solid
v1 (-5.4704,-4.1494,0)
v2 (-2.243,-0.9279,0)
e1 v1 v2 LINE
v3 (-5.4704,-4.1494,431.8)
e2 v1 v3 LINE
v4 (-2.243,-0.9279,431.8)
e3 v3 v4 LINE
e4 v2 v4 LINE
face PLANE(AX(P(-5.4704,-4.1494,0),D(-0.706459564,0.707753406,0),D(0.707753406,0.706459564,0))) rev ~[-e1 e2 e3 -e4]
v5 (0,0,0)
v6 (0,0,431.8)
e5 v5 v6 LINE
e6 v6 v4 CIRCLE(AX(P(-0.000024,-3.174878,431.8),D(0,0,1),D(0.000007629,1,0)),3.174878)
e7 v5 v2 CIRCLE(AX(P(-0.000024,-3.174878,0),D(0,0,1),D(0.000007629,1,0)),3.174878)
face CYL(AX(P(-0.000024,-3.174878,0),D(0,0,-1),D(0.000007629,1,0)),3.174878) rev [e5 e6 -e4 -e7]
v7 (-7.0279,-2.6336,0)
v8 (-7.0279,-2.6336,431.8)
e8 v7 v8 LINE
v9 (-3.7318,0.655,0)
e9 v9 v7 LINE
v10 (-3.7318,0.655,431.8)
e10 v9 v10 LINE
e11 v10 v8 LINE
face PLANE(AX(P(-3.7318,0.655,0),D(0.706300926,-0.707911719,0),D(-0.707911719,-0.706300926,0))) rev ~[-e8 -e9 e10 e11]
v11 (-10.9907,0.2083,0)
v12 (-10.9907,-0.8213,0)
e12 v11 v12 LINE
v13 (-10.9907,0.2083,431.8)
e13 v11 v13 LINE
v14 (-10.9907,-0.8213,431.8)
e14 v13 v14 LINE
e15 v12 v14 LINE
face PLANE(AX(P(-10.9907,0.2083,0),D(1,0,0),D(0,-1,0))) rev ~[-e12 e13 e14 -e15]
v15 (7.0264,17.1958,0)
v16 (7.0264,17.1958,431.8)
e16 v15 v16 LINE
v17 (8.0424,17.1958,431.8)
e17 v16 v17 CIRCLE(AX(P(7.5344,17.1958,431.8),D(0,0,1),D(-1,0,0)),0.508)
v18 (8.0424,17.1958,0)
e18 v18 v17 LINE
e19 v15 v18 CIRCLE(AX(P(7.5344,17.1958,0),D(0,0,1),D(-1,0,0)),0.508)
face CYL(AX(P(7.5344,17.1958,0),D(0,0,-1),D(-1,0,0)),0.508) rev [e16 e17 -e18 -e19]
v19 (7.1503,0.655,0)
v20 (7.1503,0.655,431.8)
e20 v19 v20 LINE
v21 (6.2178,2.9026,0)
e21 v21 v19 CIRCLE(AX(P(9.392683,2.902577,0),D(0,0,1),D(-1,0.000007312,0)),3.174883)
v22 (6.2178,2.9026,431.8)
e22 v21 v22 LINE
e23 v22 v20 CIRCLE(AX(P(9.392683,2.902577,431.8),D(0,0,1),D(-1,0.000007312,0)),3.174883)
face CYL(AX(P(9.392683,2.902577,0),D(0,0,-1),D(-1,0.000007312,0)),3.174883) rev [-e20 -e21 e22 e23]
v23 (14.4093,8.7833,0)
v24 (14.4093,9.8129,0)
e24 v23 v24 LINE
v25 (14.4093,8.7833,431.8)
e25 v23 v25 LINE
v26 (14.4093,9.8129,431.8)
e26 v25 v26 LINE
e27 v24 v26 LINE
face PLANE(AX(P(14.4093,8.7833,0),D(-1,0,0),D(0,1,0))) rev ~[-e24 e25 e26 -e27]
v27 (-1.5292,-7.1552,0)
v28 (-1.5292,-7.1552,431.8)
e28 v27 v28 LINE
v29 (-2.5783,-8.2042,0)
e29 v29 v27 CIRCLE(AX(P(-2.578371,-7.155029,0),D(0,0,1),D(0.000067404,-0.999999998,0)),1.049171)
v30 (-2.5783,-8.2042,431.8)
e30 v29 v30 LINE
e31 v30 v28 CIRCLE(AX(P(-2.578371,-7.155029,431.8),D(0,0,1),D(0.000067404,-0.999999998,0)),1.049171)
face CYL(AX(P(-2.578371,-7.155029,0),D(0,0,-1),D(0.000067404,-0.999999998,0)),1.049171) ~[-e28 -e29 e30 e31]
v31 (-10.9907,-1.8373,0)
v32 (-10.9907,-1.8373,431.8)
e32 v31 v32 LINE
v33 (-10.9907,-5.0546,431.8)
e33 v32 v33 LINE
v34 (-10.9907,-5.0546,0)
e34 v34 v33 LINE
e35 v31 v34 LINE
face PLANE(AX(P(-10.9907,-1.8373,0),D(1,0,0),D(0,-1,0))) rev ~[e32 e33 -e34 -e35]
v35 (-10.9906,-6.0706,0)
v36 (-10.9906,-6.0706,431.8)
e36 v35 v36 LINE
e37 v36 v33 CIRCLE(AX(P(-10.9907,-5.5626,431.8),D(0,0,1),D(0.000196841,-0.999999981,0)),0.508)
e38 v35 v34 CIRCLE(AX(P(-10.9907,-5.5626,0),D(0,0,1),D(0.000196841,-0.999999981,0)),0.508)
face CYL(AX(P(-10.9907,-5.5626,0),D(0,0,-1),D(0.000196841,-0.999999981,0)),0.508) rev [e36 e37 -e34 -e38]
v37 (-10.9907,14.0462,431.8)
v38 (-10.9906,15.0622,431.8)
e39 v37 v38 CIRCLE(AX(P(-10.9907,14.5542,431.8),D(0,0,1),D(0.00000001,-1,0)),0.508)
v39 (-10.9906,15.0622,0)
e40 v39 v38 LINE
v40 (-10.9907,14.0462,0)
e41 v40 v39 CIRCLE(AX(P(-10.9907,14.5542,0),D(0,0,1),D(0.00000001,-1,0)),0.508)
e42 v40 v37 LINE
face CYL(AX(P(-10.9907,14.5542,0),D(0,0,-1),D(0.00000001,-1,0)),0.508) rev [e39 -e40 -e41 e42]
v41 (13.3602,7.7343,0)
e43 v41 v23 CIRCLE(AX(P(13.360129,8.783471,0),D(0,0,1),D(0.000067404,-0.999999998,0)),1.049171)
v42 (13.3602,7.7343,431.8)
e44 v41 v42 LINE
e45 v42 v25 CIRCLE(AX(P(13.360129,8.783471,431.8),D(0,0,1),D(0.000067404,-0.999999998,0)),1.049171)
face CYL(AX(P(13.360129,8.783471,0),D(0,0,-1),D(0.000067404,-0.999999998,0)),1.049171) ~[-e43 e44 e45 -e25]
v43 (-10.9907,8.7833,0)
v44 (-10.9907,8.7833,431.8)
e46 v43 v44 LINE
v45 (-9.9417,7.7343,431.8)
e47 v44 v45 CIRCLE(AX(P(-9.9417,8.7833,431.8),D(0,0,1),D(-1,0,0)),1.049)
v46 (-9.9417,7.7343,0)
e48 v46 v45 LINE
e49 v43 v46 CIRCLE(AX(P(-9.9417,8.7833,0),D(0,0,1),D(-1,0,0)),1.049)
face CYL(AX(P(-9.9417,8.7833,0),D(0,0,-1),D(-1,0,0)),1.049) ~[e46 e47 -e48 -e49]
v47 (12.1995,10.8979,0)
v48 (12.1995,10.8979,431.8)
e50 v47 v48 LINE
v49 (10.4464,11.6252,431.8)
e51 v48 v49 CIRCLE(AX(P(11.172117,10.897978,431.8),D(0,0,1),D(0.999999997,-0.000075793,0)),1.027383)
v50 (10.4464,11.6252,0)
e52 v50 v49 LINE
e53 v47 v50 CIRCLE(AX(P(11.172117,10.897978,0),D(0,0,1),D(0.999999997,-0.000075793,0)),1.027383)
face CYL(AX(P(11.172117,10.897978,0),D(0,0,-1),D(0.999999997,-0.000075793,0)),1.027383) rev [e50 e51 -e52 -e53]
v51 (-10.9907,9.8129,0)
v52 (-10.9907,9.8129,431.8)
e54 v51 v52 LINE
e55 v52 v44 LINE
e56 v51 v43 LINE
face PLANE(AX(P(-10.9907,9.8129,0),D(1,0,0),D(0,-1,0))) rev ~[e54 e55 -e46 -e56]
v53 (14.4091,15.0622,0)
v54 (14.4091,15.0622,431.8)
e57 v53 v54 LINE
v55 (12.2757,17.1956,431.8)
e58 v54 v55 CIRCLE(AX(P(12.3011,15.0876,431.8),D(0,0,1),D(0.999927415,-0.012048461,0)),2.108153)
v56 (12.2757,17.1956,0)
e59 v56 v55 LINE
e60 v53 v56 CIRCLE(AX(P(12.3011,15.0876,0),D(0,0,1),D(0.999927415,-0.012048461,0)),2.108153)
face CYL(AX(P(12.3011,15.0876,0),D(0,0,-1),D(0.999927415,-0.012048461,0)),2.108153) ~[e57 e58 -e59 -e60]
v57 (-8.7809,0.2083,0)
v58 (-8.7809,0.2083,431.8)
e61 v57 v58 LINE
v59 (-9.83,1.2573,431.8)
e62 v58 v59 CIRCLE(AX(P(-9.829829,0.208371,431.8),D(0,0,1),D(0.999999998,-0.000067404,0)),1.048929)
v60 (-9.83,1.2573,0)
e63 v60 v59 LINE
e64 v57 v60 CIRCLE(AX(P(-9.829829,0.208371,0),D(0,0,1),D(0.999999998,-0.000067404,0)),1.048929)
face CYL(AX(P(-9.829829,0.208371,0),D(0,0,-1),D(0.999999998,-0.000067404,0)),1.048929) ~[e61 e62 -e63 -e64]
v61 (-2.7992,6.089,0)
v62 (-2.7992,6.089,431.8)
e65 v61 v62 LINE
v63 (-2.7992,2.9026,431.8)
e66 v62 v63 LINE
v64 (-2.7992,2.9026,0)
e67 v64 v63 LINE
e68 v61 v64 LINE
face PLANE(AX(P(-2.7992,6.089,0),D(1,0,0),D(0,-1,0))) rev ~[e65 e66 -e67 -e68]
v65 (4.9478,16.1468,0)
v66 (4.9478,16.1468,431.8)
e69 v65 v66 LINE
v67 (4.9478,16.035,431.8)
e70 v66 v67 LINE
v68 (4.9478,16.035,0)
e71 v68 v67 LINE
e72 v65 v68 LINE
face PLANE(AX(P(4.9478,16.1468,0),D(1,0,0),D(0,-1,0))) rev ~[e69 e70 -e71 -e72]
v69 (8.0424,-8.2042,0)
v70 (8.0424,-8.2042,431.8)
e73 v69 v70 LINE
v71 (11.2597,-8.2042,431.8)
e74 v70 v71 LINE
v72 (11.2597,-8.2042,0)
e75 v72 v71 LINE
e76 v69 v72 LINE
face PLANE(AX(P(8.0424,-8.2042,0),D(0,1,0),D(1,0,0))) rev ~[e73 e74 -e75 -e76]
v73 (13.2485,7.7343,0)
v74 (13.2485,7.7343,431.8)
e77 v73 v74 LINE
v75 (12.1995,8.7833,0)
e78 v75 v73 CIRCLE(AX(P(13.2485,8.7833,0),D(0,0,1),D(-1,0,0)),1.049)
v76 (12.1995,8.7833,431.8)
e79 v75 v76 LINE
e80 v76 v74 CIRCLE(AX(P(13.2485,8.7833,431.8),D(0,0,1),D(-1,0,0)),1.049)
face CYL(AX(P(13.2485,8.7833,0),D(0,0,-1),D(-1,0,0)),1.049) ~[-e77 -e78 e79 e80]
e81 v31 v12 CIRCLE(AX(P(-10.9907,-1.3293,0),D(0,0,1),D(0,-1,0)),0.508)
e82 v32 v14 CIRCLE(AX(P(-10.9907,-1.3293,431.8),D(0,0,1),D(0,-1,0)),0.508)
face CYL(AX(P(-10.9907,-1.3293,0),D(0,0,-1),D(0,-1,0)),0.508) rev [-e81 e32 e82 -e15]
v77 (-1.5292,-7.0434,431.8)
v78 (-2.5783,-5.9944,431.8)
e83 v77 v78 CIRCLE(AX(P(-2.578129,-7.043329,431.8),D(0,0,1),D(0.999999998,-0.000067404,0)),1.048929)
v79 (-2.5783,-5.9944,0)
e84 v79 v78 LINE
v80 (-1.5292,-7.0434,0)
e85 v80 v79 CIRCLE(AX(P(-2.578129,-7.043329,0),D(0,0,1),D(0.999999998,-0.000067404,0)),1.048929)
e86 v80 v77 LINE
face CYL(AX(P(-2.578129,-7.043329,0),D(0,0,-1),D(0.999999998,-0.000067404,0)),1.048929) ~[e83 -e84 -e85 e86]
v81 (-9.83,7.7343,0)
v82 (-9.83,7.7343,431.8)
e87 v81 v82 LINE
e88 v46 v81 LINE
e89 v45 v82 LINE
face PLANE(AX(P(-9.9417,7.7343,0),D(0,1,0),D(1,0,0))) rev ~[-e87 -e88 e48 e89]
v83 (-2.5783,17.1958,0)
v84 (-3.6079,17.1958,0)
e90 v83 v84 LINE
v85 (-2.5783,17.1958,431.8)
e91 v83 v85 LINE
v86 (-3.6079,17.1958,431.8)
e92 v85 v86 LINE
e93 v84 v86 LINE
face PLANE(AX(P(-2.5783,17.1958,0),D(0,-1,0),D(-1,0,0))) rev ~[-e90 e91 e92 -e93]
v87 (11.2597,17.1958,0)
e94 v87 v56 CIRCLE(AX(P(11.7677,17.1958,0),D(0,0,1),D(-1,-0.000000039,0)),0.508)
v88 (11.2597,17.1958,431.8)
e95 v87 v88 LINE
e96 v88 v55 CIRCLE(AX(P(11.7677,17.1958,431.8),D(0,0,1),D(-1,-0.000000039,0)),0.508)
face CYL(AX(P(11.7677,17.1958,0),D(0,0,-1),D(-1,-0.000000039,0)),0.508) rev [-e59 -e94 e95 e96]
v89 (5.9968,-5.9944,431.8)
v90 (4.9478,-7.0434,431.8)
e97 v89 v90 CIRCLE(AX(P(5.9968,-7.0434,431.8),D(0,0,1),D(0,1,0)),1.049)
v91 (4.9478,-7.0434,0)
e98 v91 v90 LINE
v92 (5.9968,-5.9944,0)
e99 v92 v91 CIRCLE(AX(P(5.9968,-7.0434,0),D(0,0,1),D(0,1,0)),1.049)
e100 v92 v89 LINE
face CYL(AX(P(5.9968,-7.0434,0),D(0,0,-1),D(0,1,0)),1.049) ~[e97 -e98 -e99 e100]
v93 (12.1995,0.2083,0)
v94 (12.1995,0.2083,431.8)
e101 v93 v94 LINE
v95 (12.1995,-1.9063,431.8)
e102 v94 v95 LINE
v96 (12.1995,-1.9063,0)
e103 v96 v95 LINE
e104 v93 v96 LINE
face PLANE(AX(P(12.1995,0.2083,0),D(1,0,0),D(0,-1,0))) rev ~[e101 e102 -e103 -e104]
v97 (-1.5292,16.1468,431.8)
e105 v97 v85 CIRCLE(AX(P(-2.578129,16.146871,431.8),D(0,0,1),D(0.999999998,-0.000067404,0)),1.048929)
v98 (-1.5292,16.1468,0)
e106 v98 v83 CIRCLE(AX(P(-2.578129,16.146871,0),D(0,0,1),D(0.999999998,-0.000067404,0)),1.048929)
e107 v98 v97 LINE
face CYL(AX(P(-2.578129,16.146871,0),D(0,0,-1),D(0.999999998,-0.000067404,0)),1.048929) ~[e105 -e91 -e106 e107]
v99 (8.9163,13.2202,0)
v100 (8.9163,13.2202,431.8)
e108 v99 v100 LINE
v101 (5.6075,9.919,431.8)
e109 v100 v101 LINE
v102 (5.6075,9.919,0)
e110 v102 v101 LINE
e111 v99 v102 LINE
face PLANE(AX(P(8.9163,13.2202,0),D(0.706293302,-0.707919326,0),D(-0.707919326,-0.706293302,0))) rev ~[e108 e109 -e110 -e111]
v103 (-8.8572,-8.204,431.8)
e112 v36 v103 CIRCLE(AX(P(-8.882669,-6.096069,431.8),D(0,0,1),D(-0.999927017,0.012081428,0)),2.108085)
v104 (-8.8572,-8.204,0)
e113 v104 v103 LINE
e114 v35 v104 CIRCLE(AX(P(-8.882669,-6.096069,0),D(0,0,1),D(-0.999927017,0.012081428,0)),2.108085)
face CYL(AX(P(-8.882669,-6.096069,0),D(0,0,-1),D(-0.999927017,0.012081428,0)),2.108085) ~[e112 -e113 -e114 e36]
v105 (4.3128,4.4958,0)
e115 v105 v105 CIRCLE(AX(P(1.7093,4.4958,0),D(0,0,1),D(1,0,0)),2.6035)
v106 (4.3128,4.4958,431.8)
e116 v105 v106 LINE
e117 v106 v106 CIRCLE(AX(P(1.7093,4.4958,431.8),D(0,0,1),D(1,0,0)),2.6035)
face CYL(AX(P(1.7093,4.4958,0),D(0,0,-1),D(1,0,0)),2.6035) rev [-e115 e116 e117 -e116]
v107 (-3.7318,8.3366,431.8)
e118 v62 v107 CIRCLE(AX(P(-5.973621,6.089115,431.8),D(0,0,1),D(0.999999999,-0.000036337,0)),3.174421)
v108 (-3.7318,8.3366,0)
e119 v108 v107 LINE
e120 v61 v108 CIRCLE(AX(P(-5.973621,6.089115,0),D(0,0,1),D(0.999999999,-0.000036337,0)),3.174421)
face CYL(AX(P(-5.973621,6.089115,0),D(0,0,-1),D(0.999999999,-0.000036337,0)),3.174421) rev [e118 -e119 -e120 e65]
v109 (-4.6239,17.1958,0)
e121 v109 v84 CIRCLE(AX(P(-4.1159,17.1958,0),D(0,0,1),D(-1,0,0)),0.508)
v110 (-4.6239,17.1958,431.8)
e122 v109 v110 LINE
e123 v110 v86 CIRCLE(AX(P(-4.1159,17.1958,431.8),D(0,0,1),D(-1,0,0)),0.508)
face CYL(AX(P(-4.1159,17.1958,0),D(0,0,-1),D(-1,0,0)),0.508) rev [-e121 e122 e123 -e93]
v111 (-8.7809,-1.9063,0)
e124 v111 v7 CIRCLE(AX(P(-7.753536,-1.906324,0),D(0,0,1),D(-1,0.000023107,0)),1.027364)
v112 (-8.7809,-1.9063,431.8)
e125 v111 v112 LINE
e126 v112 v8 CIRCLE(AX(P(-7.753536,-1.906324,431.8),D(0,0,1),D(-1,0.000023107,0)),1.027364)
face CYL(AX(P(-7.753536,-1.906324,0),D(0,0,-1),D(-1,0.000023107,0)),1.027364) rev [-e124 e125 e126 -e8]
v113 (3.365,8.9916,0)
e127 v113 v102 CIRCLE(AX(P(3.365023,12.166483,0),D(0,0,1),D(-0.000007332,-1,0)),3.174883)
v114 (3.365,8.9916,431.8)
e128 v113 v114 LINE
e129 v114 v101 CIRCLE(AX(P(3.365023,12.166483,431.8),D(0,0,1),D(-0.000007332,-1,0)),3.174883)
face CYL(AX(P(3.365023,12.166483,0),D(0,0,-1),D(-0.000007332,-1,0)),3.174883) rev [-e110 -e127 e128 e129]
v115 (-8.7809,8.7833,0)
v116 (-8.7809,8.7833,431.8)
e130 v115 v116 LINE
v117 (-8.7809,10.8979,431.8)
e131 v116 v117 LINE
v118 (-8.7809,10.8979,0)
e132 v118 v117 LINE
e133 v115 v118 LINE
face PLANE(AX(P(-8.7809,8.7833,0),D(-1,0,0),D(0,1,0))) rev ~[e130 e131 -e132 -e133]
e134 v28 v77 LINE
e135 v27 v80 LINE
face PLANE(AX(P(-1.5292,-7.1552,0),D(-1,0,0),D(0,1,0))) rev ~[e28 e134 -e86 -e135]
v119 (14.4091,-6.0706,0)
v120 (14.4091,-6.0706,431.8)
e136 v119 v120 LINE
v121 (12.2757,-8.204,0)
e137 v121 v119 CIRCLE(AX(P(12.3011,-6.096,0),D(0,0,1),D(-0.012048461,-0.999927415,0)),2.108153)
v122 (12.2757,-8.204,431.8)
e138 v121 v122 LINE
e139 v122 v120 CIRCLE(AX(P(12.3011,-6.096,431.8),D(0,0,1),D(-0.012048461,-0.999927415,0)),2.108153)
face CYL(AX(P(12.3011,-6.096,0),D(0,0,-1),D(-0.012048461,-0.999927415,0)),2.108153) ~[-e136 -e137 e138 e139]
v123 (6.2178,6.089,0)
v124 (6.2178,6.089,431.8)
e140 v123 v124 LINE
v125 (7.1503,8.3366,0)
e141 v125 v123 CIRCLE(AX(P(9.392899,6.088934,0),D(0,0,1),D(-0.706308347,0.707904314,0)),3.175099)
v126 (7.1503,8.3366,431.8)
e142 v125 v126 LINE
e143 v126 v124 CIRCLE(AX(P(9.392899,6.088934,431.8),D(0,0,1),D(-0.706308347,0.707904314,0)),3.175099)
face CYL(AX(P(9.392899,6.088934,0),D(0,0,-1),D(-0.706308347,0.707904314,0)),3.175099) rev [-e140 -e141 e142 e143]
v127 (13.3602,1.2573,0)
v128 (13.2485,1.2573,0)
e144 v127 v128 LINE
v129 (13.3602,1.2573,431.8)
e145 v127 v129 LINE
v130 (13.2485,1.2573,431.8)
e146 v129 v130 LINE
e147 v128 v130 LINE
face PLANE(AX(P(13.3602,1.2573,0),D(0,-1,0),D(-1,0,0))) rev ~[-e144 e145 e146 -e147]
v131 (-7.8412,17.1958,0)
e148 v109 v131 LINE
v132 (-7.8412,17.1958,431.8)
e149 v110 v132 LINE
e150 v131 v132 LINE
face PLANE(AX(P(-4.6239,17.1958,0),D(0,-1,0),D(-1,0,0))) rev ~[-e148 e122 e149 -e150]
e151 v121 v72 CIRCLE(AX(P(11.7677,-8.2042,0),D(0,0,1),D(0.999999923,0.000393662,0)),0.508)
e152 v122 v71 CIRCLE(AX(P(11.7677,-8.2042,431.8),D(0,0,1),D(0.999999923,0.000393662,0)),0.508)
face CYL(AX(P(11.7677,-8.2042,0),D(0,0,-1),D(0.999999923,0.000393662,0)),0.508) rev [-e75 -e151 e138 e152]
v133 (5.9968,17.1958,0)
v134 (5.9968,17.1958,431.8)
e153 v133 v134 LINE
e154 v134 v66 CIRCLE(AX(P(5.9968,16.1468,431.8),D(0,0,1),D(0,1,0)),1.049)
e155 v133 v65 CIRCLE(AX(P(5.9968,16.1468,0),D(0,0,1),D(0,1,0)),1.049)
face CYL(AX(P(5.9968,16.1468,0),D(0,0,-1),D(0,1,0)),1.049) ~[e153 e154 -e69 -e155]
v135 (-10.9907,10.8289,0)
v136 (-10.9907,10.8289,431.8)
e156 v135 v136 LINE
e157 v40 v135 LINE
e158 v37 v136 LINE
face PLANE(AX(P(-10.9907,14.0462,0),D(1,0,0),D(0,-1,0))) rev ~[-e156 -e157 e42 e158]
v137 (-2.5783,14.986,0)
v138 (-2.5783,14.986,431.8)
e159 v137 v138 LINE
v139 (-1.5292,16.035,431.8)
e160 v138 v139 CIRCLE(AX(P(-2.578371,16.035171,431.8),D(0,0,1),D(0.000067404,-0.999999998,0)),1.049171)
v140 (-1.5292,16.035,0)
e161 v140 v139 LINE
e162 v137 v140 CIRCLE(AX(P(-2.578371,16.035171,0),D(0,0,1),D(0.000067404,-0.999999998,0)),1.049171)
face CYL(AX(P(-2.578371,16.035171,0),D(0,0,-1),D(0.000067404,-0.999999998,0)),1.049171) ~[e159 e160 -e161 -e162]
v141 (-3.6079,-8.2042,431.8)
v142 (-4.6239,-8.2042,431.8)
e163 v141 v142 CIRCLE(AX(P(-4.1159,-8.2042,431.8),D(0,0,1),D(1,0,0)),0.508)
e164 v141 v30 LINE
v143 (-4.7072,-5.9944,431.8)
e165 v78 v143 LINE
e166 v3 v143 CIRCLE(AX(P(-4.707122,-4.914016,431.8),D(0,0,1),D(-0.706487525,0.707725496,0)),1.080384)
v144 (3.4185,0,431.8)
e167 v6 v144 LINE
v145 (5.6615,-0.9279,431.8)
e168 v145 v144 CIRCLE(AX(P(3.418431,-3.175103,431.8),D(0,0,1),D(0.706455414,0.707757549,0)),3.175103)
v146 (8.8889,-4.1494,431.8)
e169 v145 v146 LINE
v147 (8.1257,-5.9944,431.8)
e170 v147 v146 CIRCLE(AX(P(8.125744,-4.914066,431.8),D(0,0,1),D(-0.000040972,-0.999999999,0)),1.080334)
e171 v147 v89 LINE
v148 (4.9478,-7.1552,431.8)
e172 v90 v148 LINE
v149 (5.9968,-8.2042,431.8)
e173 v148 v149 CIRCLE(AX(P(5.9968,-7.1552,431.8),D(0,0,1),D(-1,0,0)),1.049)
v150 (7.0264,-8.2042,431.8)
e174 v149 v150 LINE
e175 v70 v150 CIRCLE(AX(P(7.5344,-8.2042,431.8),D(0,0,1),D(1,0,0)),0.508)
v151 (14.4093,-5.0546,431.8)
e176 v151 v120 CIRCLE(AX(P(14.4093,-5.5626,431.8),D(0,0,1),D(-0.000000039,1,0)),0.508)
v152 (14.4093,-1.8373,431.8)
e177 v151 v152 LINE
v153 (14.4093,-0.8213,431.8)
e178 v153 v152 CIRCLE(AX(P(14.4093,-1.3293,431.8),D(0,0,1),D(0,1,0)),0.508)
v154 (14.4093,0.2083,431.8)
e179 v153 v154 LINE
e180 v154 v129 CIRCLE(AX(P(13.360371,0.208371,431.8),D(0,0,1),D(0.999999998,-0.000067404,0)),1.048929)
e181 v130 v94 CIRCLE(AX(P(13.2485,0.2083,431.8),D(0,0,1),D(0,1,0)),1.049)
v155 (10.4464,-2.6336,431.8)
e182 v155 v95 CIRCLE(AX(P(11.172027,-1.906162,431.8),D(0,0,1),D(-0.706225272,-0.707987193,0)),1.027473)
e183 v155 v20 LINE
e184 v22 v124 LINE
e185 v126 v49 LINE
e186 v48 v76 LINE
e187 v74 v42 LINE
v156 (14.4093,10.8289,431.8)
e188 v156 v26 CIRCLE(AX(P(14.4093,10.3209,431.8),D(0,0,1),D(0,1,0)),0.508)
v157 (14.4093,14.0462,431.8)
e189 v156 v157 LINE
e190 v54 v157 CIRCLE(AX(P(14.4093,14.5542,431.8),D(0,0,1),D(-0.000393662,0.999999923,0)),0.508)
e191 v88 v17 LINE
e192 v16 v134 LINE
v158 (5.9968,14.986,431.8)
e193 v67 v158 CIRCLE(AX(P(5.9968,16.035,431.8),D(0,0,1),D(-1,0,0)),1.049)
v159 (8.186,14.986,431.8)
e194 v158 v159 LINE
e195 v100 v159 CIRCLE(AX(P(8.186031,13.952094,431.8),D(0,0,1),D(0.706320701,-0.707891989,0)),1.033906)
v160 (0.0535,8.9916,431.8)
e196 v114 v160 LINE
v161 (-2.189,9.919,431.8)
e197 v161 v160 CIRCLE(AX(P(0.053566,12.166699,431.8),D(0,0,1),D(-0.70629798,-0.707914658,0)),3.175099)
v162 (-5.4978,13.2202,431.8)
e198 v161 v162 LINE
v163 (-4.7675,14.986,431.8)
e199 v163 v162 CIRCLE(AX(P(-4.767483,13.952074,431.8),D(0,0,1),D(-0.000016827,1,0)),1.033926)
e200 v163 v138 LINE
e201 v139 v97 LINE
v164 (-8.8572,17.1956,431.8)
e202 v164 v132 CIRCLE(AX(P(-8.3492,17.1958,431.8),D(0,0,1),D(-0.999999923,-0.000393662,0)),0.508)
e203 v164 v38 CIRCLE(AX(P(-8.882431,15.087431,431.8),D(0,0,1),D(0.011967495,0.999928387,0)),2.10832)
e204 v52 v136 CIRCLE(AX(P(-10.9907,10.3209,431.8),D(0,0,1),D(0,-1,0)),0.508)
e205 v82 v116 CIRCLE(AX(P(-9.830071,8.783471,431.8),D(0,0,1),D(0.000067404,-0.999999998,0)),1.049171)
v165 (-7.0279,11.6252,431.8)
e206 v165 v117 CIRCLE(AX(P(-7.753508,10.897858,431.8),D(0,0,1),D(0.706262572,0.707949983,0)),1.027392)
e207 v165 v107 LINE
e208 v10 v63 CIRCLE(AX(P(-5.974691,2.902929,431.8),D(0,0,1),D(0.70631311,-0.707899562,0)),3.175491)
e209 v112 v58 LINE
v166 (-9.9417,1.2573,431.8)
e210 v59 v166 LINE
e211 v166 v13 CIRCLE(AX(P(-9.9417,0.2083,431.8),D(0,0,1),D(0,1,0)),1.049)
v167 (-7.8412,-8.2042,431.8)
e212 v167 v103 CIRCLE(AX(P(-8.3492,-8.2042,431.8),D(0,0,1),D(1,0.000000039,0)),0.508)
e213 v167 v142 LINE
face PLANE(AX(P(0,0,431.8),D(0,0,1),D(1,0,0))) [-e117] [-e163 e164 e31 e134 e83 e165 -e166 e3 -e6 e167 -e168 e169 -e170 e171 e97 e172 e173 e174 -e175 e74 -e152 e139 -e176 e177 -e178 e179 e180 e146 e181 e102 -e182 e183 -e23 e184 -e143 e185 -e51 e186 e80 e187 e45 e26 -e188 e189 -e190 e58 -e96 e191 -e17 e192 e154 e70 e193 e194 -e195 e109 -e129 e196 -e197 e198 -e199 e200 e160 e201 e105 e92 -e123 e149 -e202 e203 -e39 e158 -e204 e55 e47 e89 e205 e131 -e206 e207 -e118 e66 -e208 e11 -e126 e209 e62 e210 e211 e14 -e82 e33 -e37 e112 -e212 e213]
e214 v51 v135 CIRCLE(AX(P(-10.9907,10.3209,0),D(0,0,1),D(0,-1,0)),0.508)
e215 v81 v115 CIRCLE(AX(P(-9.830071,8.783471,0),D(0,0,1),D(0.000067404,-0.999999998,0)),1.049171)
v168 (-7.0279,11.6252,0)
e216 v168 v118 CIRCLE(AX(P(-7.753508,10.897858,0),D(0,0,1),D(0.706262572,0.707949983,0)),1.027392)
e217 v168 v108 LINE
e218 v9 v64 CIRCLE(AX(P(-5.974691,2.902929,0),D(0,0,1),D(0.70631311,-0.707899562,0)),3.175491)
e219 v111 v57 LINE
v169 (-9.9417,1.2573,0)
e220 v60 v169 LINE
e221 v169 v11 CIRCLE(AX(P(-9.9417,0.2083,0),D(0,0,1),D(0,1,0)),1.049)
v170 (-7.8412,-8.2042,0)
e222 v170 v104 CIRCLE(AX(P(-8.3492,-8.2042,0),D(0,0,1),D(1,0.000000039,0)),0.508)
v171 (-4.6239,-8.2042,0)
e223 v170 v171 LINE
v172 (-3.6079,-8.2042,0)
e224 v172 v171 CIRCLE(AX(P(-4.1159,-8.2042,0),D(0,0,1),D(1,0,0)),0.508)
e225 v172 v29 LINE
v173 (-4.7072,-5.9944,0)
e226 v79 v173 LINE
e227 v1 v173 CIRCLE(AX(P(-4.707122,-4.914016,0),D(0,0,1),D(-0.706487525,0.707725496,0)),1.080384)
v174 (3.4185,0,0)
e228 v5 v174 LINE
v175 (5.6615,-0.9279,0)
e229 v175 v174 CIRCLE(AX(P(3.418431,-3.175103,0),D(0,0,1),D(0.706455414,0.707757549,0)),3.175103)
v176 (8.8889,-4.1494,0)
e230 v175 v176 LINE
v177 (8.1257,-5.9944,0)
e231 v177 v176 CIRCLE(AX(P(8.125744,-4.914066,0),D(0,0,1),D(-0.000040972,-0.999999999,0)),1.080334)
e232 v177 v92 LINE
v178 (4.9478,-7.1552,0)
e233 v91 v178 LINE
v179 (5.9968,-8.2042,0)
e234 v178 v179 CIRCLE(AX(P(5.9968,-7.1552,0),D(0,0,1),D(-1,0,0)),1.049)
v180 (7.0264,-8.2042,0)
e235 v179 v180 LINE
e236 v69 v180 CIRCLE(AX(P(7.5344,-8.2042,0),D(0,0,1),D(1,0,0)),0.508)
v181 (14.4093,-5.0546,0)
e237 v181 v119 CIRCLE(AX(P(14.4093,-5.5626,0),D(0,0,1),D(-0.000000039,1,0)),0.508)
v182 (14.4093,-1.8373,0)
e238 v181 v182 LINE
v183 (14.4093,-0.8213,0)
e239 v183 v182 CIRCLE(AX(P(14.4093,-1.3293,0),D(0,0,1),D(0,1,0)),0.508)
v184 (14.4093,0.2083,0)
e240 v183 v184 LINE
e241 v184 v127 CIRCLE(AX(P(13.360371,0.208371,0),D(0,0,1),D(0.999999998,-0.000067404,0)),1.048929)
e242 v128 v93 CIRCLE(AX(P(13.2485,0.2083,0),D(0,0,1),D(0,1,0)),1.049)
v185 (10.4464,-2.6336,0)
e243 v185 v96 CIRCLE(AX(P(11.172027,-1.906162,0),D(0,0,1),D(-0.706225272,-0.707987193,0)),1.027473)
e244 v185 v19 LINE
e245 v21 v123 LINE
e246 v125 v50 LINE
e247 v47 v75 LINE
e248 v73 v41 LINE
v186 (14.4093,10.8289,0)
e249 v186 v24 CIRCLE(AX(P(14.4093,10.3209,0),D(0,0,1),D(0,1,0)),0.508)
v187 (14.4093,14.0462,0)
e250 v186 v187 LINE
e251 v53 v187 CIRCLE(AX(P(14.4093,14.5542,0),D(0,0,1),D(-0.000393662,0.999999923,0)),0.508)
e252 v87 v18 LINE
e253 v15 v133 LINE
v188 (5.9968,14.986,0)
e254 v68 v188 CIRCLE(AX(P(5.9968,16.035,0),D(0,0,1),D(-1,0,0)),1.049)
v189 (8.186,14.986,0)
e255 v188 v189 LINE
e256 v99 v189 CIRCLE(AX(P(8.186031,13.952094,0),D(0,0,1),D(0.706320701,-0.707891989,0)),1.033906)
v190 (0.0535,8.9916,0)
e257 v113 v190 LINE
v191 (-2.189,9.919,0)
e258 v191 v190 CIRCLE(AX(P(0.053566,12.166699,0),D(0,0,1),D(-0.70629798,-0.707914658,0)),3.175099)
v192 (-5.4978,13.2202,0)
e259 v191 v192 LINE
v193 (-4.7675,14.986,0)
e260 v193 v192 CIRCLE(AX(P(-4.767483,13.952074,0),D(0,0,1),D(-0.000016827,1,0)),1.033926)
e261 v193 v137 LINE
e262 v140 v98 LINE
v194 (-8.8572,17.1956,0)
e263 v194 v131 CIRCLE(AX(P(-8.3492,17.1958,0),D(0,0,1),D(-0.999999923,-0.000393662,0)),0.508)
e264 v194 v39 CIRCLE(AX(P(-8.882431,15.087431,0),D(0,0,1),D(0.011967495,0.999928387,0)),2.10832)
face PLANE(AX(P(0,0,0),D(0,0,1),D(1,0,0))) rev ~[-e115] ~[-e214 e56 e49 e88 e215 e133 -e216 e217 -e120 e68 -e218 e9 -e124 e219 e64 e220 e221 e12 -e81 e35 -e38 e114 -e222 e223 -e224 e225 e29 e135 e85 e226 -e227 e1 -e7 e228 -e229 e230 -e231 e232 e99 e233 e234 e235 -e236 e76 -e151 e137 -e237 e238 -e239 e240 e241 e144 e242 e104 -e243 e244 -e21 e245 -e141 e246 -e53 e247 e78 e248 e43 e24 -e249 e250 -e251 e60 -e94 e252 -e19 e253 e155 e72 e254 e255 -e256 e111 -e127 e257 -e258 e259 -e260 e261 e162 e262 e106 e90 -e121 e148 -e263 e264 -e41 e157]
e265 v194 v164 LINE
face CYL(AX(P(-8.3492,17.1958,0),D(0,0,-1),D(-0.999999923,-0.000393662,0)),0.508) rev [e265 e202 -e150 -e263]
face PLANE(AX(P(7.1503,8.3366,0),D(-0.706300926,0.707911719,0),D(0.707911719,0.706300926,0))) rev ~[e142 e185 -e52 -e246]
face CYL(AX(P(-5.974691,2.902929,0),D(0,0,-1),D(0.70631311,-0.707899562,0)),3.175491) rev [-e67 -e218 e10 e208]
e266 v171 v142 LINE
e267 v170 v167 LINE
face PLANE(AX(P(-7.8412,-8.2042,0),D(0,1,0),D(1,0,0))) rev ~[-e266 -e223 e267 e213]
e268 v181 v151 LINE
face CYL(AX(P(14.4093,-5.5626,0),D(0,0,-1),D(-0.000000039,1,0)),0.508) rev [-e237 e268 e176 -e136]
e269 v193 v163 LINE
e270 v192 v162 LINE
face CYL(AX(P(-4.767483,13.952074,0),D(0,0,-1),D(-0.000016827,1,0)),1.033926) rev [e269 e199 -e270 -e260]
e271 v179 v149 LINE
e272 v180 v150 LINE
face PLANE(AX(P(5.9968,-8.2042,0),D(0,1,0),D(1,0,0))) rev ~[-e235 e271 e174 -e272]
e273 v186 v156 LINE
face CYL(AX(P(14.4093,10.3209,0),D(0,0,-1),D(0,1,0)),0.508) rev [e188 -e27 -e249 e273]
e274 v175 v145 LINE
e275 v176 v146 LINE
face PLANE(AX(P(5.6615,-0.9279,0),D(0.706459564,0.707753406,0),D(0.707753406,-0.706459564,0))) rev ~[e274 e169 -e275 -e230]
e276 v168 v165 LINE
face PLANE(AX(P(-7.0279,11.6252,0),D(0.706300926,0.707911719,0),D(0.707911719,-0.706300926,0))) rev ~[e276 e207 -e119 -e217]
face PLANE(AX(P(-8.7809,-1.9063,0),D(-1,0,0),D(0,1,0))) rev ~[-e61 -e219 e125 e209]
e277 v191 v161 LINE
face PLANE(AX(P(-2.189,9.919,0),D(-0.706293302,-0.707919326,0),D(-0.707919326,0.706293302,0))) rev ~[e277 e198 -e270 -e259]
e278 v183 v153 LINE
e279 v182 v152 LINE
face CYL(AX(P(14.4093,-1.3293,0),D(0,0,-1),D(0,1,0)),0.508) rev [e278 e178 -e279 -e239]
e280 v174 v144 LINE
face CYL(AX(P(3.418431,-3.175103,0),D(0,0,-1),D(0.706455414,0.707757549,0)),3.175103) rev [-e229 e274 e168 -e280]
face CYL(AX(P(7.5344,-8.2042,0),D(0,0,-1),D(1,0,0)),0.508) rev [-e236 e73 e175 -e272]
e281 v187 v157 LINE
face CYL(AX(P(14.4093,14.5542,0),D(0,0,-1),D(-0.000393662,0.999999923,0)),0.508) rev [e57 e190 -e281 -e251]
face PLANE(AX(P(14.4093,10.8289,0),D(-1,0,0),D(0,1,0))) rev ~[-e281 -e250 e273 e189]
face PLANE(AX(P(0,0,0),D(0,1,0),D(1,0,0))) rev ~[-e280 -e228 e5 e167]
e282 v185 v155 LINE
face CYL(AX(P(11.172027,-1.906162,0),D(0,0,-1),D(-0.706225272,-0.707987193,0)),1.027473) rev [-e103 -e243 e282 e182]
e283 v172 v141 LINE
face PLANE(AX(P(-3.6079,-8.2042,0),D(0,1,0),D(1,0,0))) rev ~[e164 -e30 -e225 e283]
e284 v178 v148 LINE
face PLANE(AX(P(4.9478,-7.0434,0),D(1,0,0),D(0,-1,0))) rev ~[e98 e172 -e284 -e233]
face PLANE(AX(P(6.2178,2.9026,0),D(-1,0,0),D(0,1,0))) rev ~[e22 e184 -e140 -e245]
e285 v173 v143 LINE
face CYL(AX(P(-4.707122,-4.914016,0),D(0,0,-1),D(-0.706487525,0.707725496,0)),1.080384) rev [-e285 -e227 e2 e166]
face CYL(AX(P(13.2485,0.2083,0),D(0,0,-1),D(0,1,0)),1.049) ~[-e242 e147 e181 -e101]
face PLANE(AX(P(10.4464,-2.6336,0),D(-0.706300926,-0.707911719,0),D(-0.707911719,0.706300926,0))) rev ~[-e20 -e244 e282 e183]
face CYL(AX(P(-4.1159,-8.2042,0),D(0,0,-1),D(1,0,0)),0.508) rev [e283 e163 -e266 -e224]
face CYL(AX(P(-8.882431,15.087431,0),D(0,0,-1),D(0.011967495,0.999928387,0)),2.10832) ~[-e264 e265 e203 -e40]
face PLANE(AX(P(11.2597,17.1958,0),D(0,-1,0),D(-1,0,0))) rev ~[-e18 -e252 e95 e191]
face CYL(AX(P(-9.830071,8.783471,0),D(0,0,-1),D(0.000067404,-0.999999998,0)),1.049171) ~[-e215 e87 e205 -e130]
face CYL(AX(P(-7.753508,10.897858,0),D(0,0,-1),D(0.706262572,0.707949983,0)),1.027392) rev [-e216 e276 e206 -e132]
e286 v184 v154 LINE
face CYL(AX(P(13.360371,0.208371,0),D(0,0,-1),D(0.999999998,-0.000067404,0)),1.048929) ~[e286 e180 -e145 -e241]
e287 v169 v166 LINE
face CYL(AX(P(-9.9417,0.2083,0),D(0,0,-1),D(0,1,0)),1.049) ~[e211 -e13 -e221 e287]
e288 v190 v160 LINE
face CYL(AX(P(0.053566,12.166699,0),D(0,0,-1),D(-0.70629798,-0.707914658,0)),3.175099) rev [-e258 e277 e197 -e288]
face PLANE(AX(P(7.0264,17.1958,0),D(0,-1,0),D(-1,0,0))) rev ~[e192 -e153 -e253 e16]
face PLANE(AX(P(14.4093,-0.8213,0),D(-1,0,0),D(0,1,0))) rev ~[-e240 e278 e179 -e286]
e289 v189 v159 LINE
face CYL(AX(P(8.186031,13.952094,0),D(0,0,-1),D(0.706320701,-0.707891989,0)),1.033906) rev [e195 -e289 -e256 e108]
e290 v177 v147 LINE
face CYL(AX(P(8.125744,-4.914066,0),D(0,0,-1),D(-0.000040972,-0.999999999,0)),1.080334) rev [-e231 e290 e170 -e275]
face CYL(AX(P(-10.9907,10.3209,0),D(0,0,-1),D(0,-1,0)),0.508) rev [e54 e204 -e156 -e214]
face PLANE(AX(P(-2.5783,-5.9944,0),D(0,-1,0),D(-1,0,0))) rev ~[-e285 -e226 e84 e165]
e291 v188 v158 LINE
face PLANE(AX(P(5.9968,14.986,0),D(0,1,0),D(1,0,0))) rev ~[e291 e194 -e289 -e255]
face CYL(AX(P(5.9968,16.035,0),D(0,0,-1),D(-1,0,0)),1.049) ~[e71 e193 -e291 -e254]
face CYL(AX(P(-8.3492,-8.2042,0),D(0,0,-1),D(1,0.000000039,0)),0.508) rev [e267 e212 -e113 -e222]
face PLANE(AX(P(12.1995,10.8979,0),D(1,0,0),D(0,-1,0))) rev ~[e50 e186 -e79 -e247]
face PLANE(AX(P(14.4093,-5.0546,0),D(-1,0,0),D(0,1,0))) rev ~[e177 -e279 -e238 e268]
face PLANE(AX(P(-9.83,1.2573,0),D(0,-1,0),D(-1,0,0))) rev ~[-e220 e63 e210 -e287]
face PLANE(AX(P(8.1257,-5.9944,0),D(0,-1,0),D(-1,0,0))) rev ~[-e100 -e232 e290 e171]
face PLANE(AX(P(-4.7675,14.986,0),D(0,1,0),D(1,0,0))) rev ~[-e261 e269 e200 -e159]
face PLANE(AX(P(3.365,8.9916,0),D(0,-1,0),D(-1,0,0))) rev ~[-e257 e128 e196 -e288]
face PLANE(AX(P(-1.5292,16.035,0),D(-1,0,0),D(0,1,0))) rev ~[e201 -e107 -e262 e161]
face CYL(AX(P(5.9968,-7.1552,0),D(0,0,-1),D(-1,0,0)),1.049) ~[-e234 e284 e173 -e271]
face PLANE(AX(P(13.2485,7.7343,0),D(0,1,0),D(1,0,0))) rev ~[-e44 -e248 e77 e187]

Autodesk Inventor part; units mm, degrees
ref_plane "YZ Plane" through (0, 0, 0) normal (1, 0, 0) x (0, 1, 0)
ref_plane "XZ Plane" through (0, 0, 0) normal (0, 1, 0) x (-1, 0, 0)
ref_plane "XY Plane" through (0, 0, 0) normal (0, 0, 1) x (1, 0, 0)
sketch "Sketch1" plane through (0, 0, 0) normal (0, 0, 1) x (1, 0, 0)
  arc A0 (-5.4704, -4.1494) -> (-4.7072, -5.9944) centre (-4.7072, -4.914) ccw
  line L0 (-5.4704, -4.1494) -> (-2.243, -0.9279)
  arc A1 (0, 0) -> (-2.243, -0.9279) centre (0, -3.175) ccw
  line L1 (0, 0) -> (3.4185, 0)
  arc A2 (5.6615, -0.9279) -> (3.4185, 0) centre (3.4185, -3.175) ccw
  line L2 (5.6615, -0.9279) -> (8.8889, -4.1494)
  arc A3 (8.1257, -5.9944) -> (8.8889, -4.1494) centre (8.1257, -4.914) ccw
  line L3 (8.1257, -5.9944) -> (5.9968, -5.9944)
  arc A4 (5.9968, -5.9944) -> (4.9478, -7.0434) centre (5.9968, -7.0434) ccw
  line L4 (4.9478, -7.0434) -> (4.9478, -7.1552)
  arc A5 (4.9478, -7.1552) -> (5.9968, -8.2042) centre (5.9968, -7.1552) ccw
  line L5 (5.9968, -8.2042) -> (7.0264, -8.2042)
  arc A6 (8.0424, -8.2042) -> (7.0264, -8.2042) centre (7.5344, -8.2042) ccw
  line L6 (8.0424, -8.2042) -> (11.2597, -8.2042)
  arc A7 (12.2757, -8.204) -> (11.2597, -8.2042) centre (11.7677, -8.2042) ccw
  arc A8 (12.2757, -8.204) -> (14.4091, -6.0706) centre (12.3011, -6.096) ccw
  arc A9 (14.4093, -5.0546) -> (14.4091, -6.0706) centre (14.4093, -5.5626) ccw
  line L7 (14.4093, -5.0546) -> (14.4093, -1.8373)
  arc A10 (14.4093, -0.8213) -> (14.4093, -1.8373) centre (14.4093, -1.3293) ccw
  line L8 (14.4093, -0.8213) -> (14.4093, 0.2083)
  arc A11 (14.4093, 0.2083) -> (13.3602, 1.2573) centre (13.3602, 0.2083) ccw
  line L9 (13.3602, 1.2573) -> (13.2485, 1.2573)
  arc A12 (13.2485, 1.2573) -> (12.1995, 0.2083) centre (13.2485, 0.2083) ccw
  line L10 (12.1995, 0.2083) -> (12.1995, -1.9063)
  arc A13 (10.4464, -2.6336) -> (12.1995, -1.9063) centre (11.172, -1.9063) ccw
  line L11 (10.4464, -2.6336) -> (7.1503, 0.655)
  arc A14 (6.2178, 2.9026) -> (7.1503, 0.655) centre (9.3928, 2.9026) ccw
  line L12 (6.2178, 2.9026) -> (6.2178, 6.089)
  arc A15 (7.1503, 8.3366) -> (6.2178, 6.089) centre (9.3928, 6.089) ccw
  line L13 (7.1503, 8.3366) -> (10.4464, 11.6252)
  arc A16 (12.1995, 10.8979) -> (10.4464, 11.6252) centre (11.172, 10.8979) ccw
  line L14 (12.1995, 10.8979) -> (12.1995, 8.7833)
  arc A17 (12.1995, 8.7833) -> (13.2485, 7.7343) centre (13.2485, 8.7833) ccw
  line L15 (13.2485, 7.7343) -> (13.3602, 7.7343)
  arc A18 (13.3602, 7.7343) -> (14.4093, 8.7833) centre (13.3602, 8.7833) ccw
  line L16 (14.4093, 8.7833) -> (14.4093, 9.8129)
  arc A19 (14.4093, 10.8289) -> (14.4093, 9.8129) centre (14.4093, 10.3209) ccw
  line L17 (14.4093, 10.8289) -> (14.4093, 14.0462)
  arc A20 (14.4091, 15.0622) -> (14.4093, 14.0462) centre (14.4093, 14.5542) ccw
  arc A21 (14.4091, 15.0622) -> (12.2757, 17.1956) centre (12.3011, 15.0876) ccw
  arc A22 (11.2597, 17.1958) -> (12.2757, 17.1956) centre (11.7677, 17.1958) ccw
  line L18 (11.2597, 17.1958) -> (8.0424, 17.1958)
  arc A23 (7.0264, 17.1958) -> (8.0424, 17.1958) centre (7.5344, 17.1958) ccw
  line L19 (7.0264, 17.1958) -> (5.9968, 17.1958)
  arc A24 (5.9968, 17.1958) -> (4.9478, 16.1468) centre (5.9968, 16.1468) ccw
  line L20 (4.9478, 16.1468) -> (4.9478, 16.035)
  arc A25 (4.9478, 16.035) -> (5.9968, 14.986) centre (5.9968, 16.035) ccw
  line L21 (5.9968, 14.986) -> (8.186, 14.986)
  arc A26 (8.9163, 13.2202) -> (8.186, 14.986) centre (8.186, 13.9521) ccw
  line L22 (8.9163, 13.2202) -> (5.6075, 9.919)
  arc A27 (3.365, 8.9916) -> (5.6075, 9.919) centre (3.365, 12.1666) ccw
  line L23 (3.365, 8.9916) -> (0.0535, 8.9916)
  arc A28 (-2.189, 9.919) -> (0.0535, 8.9916) centre (0.0535, 12.1666) ccw
  line L24 (-2.189, 9.919) -> (-5.4978, 13.2202)
  arc A29 (-4.7675, 14.986) -> (-5.4978, 13.2202) centre (-4.7675, 13.9521) ccw
  line L25 (-4.7675, 14.986) -> (-2.5783, 14.986)
  arc A30 (-2.5783, 14.986) -> (-1.5292, 16.035) centre (-2.5783, 16.035) ccw
  line L26 (-1.5292, 16.035) -> (-1.5292, 16.1468)
  arc A31 (-1.5292, 16.1468) -> (-2.5783, 17.1958) centre (-2.5783, 16.1468) ccw
  line L27 (-2.5783, 17.1958) -> (-3.6079, 17.1958)
  arc A32 (-4.6239, 17.1958) -> (-3.6079, 17.1958) centre (-4.1159, 17.1958) ccw
  line L28 (-4.6239, 17.1958) -> (-7.8412, 17.1958)
  arc A33 (-8.8572, 17.1956) -> (-7.8412, 17.1958) centre (-8.3492, 17.1958) ccw
  arc A34 (-8.8572, 17.1956) -> (-10.9906, 15.0622) centre (-8.8825, 15.0876) ccw
  arc A35 (-10.9907, 14.0462) -> (-10.9906, 15.0622) centre (-10.9907, 14.5542) ccw
  line L29 (-10.9907, 14.0462) -> (-10.9907, 10.8289)
  arc A36 (-10.9907, 9.8129) -> (-10.9907, 10.8289) centre (-10.9907, 10.3209) ccw
  line L30 (-10.9907, 9.8129) -> (-10.9907, 8.7833)
  arc A37 (-10.9907, 8.7833) -> (-9.9417, 7.7343) centre (-9.9417, 8.7833) ccw
  line L31 (-9.9417, 7.7343) -> (-9.83, 7.7343)
  arc A38 (-9.83, 7.7343) -> (-8.7809, 8.7833) centre (-9.83, 8.7833) ccw
  line L32 (-8.7809, 8.7833) -> (-8.7809, 10.8979)
  arc A39 (-7.0279, 11.6252) -> (-8.7809, 10.8979) centre (-7.7535, 10.8979) ccw
  line L33 (-7.0279, 11.6252) -> (-3.7318, 8.3366)
  arc A40 (-2.7992, 6.089) -> (-3.7318, 8.3366) centre (-5.9742, 6.089) ccw
  line L34 (-2.7992, 6.089) -> (-2.7992, 2.9026)
  arc A41 (-3.7318, 0.655) -> (-2.7992, 2.9026) centre (-5.9742, 2.9026) ccw
  line L35 (-3.7318, 0.655) -> (-7.0279, -2.6336)
  arc A42 (-8.7809, -1.9063) -> (-7.0279, -2.6336) centre (-7.7535, -1.9063) ccw
  line L36 (-8.7809, -1.9063) -> (-8.7809, 0.2083)
  arc A43 (-8.7809, 0.2083) -> (-9.83, 1.2573) centre (-9.83, 0.2083) ccw
  line L37 (-9.83, 1.2573) -> (-9.9417, 1.2573)
  arc A44 (-9.9417, 1.2573) -> (-10.9907, 0.2083) centre (-9.9417, 0.2083) ccw
  line L38 (-10.9907, 0.2083) -> (-10.9907, -0.8213)
  arc A45 (-10.9907, -1.8373) -> (-10.9907, -0.8213) centre (-10.9907, -1.3293) ccw
  line L39 (-10.9907, -1.8373) -> (-10.9907, -5.0546)
  arc A46 (-10.9906, -6.0706) -> (-10.9907, -5.0546) centre (-10.9907, -5.5626) ccw
  arc A47 (-10.9906, -6.0706) -> (-8.8572, -8.204) centre (-8.8825, -6.096) ccw
  arc A48 (-7.8412, -8.2042) -> (-8.8572, -8.204) centre (-8.3492, -8.2042) ccw
  line L40 (-7.8412, -8.2042) -> (-4.6239, -8.2042)
  arc A49 (-3.6079, -8.2042) -> (-4.6239, -8.2042) centre (-4.1159, -8.2042) ccw
  line L41 (-3.6079, -8.2042) -> (-2.5783, -8.2042)
  arc A50 (-2.5783, -8.2042) -> (-1.5292, -7.1552) centre (-2.5783, -7.1552) ccw
  line L42 (-1.5292, -7.1552) -> (-1.5292, -7.0434)
  arc A51 (-1.5292, -7.0434) -> (-2.5783, -5.9944) centre (-2.5783, -7.0434) ccw
  line L43 (-2.5783, -5.9944) -> (-4.7072, -5.9944)
  circle A52 centre (1.7093, 4.4958) radius 2.6035
extrude "Extrusion1" add sketch "Sketch1" along normal blind 431.8
properties part number "17in 1x1 T slot" material "Steel, Alloy"
